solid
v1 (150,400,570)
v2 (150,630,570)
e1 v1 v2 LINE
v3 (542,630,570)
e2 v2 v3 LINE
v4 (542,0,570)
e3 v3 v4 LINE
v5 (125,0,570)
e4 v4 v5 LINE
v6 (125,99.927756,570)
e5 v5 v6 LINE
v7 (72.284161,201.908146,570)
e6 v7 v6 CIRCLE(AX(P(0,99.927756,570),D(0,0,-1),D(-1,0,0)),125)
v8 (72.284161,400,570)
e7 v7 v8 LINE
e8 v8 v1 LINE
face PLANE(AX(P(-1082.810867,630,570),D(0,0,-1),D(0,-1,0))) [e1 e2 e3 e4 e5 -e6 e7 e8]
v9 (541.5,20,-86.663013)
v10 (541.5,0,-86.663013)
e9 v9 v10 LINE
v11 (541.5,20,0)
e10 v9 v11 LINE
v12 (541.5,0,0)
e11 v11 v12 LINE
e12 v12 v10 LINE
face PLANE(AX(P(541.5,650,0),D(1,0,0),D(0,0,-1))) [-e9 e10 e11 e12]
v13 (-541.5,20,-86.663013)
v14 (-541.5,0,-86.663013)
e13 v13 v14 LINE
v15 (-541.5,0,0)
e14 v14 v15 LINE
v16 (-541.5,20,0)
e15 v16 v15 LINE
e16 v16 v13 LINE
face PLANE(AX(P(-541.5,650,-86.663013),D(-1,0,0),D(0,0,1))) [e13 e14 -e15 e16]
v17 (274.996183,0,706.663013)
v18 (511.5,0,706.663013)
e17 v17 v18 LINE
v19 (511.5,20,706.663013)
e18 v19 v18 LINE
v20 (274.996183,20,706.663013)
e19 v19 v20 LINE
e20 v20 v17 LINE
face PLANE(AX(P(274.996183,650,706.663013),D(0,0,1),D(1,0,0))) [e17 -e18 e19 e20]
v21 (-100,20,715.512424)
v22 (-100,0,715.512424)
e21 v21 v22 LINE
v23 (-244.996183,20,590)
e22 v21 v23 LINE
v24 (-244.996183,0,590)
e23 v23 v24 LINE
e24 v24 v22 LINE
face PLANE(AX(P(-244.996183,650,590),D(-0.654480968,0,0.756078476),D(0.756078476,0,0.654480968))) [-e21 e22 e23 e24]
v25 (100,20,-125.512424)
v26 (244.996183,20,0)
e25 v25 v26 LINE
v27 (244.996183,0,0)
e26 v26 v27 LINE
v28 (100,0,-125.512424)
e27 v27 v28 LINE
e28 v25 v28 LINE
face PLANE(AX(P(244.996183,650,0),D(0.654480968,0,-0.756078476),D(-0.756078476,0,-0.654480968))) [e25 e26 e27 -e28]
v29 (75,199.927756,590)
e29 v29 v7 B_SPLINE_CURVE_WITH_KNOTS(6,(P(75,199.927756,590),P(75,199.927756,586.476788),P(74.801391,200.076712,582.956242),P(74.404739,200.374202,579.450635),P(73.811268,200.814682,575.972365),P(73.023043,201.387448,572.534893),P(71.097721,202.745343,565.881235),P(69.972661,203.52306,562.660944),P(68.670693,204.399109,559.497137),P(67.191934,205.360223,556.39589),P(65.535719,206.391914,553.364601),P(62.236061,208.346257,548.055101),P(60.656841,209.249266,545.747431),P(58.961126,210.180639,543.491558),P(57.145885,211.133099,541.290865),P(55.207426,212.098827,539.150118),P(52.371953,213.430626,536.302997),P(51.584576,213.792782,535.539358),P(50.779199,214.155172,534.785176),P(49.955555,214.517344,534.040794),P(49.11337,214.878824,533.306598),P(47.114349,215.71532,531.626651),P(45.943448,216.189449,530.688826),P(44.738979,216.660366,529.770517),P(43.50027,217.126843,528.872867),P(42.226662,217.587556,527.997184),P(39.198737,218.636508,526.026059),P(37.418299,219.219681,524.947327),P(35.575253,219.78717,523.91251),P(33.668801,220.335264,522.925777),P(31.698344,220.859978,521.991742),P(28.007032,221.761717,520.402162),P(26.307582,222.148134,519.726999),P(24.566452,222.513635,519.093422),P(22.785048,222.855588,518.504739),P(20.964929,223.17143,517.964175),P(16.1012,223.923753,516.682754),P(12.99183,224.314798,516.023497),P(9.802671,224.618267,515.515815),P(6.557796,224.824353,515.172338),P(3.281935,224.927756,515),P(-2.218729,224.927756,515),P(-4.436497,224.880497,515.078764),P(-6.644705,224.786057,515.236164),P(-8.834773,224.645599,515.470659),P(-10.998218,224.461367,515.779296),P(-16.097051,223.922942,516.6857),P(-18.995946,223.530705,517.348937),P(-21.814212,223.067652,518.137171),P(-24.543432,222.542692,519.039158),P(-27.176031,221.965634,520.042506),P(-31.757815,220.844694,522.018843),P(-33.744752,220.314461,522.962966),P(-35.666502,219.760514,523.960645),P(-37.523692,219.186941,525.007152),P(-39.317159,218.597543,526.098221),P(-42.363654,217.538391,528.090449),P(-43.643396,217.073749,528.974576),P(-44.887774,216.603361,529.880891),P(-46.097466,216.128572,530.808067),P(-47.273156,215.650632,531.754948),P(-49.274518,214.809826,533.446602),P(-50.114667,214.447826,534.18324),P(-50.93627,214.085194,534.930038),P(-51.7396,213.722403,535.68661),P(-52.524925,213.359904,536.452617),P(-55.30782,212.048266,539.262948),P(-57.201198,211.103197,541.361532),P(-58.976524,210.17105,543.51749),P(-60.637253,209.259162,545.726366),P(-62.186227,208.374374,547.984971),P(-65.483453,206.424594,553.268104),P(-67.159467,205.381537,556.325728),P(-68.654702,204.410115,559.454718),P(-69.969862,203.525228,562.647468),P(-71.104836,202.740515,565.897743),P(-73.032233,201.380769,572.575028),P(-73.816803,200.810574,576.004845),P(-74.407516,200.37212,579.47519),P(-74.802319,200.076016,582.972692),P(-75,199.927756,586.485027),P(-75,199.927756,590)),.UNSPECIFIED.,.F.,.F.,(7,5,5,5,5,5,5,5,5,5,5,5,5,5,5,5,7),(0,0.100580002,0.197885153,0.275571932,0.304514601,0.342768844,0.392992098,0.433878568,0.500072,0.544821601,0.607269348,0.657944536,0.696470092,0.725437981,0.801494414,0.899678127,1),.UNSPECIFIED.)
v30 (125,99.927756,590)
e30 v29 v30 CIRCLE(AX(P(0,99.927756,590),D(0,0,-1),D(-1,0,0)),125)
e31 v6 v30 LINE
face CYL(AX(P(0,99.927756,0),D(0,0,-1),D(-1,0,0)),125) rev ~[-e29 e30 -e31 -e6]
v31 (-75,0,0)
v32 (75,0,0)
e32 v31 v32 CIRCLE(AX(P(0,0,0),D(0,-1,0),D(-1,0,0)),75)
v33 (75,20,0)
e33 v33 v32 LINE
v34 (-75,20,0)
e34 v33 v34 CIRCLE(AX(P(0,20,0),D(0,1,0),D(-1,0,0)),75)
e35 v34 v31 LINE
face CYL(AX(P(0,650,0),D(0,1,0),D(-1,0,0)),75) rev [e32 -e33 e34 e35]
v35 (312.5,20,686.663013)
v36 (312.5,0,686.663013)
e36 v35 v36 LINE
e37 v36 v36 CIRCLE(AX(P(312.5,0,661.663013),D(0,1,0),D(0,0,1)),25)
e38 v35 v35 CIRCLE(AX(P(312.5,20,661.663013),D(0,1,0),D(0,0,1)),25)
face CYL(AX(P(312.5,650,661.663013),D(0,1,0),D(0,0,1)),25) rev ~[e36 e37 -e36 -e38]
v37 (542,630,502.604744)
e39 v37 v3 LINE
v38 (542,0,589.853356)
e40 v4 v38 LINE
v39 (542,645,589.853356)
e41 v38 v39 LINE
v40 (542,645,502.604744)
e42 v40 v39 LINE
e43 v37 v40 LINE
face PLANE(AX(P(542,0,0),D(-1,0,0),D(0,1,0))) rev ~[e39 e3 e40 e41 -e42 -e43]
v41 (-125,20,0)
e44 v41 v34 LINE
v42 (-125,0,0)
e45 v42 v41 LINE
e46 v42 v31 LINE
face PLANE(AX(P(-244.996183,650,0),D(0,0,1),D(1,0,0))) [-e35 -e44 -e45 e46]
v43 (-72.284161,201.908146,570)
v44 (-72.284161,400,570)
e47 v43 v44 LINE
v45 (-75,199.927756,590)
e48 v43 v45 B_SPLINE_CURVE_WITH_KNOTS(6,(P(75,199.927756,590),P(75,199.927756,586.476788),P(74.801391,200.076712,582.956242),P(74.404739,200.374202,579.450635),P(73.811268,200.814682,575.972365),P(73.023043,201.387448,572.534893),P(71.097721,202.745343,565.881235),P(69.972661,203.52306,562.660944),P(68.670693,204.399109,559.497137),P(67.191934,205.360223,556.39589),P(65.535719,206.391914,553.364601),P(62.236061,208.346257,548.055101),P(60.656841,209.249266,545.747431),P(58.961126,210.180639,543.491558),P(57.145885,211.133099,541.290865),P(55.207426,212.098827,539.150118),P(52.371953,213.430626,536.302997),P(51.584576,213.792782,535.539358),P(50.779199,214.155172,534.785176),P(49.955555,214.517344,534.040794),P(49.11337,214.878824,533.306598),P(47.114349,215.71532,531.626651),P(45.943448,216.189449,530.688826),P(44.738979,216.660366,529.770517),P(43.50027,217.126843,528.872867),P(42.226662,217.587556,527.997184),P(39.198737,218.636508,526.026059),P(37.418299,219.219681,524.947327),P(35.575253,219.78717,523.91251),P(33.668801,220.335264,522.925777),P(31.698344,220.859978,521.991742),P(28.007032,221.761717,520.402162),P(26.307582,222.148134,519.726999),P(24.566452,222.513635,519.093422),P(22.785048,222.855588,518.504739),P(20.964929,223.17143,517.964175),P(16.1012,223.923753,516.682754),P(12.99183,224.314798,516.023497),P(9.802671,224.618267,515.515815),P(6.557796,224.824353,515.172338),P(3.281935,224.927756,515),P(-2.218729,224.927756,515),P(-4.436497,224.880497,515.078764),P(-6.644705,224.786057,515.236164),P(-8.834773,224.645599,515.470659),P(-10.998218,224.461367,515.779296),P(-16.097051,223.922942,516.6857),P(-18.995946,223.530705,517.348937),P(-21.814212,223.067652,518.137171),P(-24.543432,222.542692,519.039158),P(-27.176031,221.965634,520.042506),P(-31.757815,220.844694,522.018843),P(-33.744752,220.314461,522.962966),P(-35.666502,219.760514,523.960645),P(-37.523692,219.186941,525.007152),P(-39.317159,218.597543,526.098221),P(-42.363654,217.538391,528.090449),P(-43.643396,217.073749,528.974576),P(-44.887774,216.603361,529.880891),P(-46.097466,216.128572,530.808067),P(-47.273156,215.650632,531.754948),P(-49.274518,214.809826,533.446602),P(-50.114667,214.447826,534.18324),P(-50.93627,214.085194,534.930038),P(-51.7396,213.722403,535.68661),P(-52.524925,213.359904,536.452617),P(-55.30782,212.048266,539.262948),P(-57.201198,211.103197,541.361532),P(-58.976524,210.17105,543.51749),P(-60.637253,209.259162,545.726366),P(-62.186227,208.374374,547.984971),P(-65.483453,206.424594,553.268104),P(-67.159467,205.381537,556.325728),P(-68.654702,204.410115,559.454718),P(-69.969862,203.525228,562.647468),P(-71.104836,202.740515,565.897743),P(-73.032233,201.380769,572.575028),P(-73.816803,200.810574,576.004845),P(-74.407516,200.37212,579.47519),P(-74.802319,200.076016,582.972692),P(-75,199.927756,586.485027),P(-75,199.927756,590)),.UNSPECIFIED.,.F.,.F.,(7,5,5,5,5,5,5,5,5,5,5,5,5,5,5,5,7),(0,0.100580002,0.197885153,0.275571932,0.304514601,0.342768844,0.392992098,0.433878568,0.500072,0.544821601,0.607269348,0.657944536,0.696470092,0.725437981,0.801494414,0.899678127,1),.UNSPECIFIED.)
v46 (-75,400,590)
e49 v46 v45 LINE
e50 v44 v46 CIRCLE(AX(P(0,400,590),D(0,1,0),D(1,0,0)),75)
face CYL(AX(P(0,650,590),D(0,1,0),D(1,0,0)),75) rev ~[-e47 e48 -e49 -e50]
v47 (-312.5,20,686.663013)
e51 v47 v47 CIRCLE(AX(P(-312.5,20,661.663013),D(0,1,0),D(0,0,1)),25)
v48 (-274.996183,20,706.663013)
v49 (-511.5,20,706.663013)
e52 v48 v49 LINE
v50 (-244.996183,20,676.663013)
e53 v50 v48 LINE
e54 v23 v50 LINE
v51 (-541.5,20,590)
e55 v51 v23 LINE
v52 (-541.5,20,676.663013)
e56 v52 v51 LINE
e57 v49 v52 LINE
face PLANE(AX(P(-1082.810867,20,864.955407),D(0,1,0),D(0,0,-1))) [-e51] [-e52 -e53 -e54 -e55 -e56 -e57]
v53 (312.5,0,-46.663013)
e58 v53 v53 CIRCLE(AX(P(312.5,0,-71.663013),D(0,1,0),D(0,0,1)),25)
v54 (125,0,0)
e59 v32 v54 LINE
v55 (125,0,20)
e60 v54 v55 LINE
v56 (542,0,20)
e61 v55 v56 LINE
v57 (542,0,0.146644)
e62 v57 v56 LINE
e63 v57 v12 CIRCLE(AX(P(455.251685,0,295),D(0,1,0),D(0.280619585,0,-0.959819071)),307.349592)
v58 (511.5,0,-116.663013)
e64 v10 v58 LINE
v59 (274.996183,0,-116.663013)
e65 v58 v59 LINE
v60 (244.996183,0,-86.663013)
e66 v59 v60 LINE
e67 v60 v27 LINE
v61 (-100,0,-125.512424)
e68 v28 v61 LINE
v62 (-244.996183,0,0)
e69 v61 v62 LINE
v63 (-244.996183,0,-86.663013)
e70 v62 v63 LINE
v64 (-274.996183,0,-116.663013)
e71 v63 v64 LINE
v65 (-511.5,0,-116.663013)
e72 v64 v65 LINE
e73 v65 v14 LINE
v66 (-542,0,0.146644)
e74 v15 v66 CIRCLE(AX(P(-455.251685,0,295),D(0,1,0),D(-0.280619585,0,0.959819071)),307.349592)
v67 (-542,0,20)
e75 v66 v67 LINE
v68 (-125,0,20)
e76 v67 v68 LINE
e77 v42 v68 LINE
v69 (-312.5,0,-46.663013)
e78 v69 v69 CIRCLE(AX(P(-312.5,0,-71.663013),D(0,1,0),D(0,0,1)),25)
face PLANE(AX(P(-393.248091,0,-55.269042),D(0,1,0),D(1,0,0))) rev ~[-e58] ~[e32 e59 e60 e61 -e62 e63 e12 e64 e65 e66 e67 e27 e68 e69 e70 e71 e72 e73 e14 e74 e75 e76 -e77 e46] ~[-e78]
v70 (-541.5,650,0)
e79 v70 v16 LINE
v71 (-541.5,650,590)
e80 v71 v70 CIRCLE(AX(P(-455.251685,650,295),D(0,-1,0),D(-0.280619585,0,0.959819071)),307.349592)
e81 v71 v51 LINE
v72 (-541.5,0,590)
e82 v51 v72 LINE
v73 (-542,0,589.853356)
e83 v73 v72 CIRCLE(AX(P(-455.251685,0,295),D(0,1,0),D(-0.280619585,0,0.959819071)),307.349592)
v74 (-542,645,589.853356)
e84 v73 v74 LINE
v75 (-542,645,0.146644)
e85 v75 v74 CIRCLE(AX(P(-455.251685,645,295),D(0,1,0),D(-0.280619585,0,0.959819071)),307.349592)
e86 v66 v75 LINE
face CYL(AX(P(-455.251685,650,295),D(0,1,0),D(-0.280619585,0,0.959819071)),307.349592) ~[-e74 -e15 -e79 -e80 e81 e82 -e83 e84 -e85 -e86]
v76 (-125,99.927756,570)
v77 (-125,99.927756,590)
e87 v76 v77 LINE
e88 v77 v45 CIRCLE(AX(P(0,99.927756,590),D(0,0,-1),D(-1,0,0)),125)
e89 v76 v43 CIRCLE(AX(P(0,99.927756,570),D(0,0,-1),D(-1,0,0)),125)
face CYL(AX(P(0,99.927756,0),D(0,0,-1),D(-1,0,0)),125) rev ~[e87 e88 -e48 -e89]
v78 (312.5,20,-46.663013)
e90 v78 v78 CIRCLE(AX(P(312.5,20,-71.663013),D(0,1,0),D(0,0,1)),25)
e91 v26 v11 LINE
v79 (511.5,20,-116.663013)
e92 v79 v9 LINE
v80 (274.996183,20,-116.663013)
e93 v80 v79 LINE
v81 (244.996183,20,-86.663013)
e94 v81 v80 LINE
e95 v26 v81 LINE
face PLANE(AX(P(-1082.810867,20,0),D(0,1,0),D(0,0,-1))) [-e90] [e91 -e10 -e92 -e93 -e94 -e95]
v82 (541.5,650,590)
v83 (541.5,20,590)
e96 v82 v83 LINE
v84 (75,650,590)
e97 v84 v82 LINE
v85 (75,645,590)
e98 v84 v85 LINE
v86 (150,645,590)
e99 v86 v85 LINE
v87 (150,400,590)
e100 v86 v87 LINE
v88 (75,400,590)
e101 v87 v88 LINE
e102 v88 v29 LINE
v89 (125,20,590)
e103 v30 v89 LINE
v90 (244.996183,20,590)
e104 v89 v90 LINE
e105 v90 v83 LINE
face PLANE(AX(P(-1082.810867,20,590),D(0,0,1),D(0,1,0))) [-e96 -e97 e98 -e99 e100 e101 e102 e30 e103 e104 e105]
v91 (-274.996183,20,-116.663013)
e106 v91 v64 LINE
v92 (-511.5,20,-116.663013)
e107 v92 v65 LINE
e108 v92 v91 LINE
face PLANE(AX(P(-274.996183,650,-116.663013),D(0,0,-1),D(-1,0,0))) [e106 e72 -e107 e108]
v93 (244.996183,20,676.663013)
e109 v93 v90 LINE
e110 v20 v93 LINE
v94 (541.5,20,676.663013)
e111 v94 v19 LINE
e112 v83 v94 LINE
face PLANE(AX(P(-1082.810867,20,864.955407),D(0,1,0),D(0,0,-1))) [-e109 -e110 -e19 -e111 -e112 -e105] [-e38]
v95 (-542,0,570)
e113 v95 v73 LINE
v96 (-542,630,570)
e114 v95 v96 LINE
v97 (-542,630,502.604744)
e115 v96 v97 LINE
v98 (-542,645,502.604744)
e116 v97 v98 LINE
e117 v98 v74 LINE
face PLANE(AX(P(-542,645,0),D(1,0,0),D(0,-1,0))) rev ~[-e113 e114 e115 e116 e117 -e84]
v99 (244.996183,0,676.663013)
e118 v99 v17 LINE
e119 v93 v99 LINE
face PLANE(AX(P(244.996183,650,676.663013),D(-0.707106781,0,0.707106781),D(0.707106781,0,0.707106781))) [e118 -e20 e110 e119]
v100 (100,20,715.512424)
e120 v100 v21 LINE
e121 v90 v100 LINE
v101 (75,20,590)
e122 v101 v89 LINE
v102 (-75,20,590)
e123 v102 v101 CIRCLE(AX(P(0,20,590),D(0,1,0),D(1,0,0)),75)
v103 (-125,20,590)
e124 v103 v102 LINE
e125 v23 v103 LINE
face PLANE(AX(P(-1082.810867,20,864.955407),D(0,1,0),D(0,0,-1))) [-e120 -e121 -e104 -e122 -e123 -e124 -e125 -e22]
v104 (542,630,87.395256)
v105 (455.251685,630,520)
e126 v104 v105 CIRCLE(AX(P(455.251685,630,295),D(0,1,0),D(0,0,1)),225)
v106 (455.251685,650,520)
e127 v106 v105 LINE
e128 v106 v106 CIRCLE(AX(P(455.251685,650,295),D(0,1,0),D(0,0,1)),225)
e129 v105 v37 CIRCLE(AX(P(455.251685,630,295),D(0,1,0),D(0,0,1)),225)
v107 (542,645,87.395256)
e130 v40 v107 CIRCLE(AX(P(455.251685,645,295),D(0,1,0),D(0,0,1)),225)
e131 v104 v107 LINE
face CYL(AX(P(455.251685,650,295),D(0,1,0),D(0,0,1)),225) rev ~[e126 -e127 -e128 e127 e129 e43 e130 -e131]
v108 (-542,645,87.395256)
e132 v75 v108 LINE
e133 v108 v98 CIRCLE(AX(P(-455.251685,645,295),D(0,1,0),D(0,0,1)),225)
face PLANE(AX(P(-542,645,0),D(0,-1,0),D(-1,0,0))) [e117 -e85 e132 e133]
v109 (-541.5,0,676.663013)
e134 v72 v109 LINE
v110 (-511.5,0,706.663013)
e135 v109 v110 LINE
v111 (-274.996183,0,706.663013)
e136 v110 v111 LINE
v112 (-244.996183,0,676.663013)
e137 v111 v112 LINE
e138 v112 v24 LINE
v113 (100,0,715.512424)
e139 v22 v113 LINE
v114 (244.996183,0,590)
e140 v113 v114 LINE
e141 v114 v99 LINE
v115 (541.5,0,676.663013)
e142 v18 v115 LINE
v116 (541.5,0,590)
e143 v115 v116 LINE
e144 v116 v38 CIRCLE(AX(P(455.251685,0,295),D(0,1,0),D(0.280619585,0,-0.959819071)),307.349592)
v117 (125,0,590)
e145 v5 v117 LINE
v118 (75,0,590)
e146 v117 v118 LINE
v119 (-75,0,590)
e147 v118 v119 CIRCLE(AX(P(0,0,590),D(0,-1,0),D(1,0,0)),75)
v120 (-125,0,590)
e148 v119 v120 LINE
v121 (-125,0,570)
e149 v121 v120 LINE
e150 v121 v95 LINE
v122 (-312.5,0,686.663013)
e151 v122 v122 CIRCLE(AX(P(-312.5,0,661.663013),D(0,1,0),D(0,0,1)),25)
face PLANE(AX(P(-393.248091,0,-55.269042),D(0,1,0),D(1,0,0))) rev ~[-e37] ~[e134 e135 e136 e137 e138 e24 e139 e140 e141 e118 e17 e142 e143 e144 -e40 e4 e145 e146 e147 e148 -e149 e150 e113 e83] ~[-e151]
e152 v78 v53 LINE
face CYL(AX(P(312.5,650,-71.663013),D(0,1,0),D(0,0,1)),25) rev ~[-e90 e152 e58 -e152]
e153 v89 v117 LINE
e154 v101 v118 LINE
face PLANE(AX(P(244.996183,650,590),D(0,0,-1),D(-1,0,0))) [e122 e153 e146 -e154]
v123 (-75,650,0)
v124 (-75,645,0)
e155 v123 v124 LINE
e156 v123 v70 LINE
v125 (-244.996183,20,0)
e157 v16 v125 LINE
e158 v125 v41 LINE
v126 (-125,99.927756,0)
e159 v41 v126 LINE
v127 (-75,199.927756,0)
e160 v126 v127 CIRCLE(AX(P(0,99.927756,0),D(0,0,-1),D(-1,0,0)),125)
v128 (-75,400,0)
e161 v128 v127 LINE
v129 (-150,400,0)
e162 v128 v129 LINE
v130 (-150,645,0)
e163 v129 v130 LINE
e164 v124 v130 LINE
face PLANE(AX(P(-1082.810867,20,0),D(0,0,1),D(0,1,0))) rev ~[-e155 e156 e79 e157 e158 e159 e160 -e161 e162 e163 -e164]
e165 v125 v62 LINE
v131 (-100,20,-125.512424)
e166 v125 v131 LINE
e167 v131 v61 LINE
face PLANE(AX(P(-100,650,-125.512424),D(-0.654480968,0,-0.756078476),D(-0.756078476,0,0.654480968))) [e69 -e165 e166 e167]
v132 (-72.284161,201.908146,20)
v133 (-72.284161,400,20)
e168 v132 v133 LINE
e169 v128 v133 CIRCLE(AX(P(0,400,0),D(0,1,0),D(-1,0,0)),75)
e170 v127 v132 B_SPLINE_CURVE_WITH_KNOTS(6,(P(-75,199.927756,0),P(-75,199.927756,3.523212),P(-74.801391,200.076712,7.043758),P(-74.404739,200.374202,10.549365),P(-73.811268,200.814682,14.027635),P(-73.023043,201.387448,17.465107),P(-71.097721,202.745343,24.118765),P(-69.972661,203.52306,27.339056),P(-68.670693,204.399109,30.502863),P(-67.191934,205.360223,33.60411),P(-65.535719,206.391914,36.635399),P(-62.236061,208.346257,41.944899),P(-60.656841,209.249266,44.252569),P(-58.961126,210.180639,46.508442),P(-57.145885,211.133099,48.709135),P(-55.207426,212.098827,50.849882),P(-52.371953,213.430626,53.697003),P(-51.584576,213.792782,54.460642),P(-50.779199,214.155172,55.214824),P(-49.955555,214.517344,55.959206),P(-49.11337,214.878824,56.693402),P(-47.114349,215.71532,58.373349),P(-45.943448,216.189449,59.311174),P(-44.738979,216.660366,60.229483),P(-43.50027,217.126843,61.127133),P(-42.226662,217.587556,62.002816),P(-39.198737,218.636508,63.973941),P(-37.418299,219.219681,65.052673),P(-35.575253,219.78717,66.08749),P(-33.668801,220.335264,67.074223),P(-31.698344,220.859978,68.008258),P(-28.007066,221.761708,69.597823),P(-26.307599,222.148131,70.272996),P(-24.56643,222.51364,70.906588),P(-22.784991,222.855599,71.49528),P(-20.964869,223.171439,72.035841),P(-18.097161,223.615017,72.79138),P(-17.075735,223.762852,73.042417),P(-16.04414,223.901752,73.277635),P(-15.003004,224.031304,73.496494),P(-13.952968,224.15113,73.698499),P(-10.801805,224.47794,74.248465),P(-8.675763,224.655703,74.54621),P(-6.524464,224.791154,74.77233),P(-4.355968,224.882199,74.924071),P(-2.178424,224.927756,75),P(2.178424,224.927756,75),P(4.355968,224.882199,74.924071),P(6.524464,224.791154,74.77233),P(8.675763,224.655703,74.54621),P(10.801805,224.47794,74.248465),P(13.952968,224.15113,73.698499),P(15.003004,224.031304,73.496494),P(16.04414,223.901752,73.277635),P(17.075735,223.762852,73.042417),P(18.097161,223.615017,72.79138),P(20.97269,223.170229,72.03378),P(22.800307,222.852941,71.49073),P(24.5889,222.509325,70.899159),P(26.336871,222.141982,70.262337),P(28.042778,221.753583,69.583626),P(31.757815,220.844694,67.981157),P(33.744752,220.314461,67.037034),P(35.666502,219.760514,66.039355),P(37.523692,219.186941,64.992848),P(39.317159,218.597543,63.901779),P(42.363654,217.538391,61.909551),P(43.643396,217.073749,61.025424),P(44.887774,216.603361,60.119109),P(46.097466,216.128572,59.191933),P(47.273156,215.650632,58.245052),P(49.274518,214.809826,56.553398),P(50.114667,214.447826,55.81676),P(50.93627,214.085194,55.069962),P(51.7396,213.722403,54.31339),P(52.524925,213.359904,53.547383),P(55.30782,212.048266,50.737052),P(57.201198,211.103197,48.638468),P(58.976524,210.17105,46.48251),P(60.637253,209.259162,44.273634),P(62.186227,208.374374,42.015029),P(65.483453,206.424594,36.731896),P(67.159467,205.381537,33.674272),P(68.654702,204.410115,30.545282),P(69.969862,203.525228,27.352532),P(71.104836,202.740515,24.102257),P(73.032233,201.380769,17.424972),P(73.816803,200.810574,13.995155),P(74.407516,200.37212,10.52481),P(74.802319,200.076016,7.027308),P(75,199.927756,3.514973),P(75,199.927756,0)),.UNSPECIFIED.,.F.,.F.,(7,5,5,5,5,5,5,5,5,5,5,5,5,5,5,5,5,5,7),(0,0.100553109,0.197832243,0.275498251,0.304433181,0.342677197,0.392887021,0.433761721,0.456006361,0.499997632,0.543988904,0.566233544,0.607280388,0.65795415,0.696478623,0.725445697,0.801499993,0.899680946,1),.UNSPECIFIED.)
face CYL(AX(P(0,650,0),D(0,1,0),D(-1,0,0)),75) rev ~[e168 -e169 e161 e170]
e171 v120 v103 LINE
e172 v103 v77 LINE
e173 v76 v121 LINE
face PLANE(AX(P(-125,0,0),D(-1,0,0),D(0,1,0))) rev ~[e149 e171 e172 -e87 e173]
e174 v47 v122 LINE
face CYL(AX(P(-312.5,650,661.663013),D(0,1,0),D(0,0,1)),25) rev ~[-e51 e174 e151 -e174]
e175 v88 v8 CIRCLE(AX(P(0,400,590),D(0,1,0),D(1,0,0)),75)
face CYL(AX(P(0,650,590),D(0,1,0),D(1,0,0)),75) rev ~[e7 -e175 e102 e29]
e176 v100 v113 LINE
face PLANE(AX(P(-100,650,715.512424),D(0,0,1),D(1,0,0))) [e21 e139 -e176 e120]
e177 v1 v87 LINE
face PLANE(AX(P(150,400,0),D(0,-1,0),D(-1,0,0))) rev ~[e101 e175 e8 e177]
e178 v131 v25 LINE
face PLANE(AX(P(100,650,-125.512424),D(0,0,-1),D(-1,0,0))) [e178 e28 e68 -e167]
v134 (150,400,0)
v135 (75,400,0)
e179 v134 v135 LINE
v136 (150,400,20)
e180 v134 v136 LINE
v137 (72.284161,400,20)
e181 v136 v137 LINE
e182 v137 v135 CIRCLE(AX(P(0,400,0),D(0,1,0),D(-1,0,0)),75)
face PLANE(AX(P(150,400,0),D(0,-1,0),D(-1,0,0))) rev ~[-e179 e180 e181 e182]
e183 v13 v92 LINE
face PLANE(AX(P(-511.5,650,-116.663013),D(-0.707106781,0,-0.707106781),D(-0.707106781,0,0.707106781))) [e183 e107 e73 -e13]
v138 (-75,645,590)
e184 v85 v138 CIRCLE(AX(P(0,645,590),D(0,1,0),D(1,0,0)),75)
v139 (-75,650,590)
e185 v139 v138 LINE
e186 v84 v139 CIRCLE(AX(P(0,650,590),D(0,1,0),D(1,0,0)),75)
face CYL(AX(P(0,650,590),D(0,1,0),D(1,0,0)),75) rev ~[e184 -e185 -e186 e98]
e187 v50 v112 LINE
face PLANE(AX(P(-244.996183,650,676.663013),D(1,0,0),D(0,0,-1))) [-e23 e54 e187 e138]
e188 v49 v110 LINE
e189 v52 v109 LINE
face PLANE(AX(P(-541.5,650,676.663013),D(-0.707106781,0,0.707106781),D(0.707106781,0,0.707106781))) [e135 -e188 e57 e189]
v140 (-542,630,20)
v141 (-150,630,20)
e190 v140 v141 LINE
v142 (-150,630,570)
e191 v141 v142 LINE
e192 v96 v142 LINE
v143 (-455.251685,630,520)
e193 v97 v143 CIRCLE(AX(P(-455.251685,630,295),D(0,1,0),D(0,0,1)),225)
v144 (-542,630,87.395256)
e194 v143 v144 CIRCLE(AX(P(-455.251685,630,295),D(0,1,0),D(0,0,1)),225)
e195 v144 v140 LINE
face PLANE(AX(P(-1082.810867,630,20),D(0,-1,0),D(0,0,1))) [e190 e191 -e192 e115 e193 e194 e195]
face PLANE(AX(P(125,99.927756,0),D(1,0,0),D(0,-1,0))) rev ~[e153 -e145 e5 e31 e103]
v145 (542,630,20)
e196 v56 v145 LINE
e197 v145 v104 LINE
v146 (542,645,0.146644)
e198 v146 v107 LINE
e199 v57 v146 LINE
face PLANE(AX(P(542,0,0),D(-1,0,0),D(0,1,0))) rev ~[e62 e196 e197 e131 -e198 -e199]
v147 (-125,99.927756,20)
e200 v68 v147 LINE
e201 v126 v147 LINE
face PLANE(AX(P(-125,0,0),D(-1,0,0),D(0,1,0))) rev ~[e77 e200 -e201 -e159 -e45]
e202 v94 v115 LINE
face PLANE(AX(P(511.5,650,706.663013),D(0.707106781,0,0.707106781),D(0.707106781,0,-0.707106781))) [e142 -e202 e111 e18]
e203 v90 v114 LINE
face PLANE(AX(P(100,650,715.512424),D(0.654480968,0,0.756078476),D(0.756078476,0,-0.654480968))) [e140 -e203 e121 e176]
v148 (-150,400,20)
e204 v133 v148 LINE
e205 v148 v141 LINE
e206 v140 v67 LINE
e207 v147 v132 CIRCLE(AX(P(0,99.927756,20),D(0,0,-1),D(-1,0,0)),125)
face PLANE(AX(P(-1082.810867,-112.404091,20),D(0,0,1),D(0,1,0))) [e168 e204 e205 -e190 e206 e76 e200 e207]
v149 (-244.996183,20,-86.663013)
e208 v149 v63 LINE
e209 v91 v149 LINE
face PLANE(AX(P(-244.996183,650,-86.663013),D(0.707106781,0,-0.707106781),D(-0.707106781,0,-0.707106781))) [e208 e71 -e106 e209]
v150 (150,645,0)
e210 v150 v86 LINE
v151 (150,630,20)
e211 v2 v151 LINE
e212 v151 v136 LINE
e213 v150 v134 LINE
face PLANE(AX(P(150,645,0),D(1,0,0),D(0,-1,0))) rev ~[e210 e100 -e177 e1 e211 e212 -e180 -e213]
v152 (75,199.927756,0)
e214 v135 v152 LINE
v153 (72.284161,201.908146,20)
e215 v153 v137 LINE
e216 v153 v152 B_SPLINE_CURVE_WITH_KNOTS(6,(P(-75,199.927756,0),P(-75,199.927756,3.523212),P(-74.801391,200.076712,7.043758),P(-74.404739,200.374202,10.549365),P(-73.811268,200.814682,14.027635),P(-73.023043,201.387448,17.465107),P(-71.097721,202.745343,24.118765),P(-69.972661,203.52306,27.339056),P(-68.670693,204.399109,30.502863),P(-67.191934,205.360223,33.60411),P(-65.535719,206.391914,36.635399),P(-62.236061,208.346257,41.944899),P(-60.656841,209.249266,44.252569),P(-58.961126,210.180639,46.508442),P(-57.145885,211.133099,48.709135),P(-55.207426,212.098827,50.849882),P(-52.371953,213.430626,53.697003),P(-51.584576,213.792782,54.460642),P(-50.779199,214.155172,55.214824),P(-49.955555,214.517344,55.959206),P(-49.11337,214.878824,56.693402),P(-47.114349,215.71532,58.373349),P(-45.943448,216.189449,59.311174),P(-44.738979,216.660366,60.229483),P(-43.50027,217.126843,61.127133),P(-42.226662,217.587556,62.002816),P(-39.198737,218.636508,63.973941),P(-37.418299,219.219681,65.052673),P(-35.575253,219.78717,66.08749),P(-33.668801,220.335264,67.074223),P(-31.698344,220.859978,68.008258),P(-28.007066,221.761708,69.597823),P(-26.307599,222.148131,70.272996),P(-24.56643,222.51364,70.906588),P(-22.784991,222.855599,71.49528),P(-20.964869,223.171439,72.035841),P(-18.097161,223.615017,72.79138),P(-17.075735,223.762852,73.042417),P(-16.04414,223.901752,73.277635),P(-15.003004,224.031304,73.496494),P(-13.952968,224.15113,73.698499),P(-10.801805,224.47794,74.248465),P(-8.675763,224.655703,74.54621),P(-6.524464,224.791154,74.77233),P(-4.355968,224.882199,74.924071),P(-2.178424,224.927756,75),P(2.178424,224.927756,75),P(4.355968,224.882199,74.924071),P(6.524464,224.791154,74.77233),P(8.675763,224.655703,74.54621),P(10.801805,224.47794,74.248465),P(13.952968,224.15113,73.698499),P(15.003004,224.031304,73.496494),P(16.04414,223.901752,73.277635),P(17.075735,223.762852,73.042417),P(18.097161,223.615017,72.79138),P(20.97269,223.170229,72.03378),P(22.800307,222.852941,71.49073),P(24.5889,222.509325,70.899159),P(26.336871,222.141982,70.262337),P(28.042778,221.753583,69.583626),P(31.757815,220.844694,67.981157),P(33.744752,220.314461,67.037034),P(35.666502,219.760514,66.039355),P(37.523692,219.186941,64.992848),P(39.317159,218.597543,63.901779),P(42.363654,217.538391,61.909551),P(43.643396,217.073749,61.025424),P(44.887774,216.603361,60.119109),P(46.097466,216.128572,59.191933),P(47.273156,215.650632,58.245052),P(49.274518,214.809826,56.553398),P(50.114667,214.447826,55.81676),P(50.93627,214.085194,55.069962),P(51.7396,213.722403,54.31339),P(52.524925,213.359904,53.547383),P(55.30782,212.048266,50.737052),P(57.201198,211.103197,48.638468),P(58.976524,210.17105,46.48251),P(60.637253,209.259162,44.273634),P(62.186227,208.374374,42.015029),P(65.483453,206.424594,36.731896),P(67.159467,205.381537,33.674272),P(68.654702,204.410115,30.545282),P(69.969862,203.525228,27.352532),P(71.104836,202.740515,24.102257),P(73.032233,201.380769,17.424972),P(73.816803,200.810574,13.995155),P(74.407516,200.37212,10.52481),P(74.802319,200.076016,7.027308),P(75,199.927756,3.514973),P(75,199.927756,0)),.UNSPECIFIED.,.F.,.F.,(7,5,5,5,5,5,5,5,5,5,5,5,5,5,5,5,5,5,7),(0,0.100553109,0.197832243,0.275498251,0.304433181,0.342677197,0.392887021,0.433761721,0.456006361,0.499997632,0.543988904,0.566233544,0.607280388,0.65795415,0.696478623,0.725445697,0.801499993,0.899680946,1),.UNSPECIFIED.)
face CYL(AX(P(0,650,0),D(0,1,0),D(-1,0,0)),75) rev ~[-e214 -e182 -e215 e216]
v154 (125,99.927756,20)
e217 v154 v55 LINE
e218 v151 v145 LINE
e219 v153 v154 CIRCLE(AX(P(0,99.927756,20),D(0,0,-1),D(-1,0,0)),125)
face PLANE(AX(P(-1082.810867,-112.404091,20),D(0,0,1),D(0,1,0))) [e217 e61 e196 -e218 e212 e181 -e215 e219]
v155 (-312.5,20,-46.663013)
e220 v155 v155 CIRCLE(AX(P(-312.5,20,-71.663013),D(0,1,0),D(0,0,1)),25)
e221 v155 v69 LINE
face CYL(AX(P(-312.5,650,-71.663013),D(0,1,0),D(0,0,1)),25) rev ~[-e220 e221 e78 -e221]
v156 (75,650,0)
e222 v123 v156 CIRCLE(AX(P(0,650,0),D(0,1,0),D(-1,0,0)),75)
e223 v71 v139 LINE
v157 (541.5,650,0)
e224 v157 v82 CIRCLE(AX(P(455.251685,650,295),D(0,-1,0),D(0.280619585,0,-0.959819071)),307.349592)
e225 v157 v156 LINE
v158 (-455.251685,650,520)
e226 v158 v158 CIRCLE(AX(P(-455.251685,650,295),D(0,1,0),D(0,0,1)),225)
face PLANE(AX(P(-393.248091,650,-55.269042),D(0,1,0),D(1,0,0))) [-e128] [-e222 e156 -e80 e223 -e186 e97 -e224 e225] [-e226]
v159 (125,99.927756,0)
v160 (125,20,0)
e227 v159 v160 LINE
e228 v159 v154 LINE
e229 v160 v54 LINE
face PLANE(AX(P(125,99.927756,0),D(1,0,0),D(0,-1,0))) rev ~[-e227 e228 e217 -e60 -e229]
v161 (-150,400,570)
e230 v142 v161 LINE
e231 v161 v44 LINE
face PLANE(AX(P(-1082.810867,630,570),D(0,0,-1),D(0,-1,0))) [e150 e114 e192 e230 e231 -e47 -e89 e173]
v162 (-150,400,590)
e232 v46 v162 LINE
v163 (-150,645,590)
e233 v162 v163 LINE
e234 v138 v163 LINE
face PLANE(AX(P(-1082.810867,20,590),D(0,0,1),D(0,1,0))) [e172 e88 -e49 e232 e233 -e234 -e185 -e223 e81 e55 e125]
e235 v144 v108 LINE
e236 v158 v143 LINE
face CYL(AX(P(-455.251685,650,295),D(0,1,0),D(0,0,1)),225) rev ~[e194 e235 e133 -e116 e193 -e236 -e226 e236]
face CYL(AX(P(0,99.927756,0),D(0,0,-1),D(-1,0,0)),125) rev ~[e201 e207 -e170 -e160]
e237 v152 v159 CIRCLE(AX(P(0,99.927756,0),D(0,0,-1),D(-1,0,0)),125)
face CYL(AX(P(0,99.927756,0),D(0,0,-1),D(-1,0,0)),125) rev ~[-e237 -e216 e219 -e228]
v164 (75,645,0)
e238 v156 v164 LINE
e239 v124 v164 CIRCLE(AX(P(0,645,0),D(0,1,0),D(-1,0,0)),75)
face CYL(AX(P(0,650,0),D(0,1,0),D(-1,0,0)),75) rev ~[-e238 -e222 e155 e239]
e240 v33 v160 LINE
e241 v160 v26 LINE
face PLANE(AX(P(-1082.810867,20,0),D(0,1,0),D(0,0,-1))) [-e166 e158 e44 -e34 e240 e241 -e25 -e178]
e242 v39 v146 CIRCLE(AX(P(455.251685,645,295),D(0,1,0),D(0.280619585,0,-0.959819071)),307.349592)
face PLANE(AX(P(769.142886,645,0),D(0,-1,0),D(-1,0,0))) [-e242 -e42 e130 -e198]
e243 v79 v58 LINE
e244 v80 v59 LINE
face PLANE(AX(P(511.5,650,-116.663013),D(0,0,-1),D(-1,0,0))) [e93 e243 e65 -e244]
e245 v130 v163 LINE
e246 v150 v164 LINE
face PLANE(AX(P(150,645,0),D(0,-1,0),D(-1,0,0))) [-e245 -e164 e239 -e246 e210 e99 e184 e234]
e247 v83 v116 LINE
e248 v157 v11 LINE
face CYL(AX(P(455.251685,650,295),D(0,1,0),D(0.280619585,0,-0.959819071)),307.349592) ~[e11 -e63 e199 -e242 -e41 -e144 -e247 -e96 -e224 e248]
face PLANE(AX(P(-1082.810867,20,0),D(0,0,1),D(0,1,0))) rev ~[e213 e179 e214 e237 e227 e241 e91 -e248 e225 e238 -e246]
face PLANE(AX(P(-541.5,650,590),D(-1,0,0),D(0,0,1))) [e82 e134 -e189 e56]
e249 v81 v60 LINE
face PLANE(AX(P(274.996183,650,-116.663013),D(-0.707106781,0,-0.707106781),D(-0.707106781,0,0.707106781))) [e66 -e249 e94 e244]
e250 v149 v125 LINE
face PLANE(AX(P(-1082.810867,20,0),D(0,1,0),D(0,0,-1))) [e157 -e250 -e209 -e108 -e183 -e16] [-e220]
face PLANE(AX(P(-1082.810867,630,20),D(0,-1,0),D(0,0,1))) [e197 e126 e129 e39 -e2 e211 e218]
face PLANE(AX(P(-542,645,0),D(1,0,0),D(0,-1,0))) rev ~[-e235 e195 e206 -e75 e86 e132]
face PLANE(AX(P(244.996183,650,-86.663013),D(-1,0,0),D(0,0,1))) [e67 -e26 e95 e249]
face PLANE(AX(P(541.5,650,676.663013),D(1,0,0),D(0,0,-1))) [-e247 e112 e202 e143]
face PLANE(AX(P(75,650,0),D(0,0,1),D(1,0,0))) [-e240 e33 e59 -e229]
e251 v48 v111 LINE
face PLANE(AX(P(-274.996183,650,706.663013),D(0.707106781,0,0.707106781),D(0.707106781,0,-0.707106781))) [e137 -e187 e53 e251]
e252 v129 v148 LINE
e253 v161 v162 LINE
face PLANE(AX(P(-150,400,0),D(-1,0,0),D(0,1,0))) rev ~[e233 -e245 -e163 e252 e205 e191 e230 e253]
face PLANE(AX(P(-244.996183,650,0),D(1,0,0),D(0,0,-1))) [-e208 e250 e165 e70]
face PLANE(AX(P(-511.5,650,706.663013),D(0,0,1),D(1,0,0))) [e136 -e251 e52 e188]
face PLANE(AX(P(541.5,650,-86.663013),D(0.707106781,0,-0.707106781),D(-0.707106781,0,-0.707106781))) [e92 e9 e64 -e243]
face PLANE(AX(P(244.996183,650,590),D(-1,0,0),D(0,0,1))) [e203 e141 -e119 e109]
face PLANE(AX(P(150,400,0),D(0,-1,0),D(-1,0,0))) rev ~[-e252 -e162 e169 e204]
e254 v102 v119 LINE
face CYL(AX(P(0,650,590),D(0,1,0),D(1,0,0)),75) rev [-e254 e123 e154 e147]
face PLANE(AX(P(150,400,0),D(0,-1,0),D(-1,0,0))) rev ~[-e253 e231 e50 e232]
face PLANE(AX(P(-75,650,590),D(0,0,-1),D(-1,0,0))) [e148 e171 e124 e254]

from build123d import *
from build123d.topology import SkipClean

# Parameters (mm, degrees)
SKETCH1_W               = 300
SKETCH1_H               = 245
BOSS_EXTRUDE1_DEPTH     = 590
SKETCH2_R               = 25
BOSS_EXTRUDE2_DEPTH     = 650
SKETCH2_4_R             = 225
CUT_EXTRUDE2_DEPTH      = 1236.329432749
CUT_EXTRUDE4_DEPTH      = 1624.31086661
CUT_EXTRUDE4_DEPTH_BACK = 1624.31086661
SKETCH3_W               = 274.95540651
SKETCH3_H               = 630
SKETCH3_W_2             = 550
SKETCH3_H_2             = 742.404091098
SKETCH3_W_3             = 176.90498613


with BuildPart() as part:
    # Sketch1 → Boss-Extrude1 (new body)
    with BuildSketch(Plane.XY):
        with BuildLine():
            Line((-542, 645), (-542, 0))
            Line((-542, 0), (-125, 0))
            Line((-125, 0), (-125, 99.927755898))
            ThreePointArc((-125, 99.927755898), (0, 224.927755898), (125, 99.927755898))
            Line((125, 99.927755898), (125, 0))
            Line((125, 0), (542, 0))
            Line((542, 0), (542, 645))
            Line((542, 645), (769.142885948, 645))
            Line((769.142885948, 645), (769.142885948, 650))
            Line((769.142885948, 650), (-769.142885948, 650))
            Line((-769.142885948, 650), (-769.142885948, 645))
            Line((-769.142885948, 645), (-542, 645))
        make_face()
        with Locations((0, 522.5)):
            Rectangle(SKETCH1_W, SKETCH1_H, mode=Mode.SUBTRACT)
    extrude(amount=BOSS_EXTRUDE1_DEPTH)

    # Sketch2 → Boss-Extrude2 (add)
    # profile 1 of 6: a face of its own
    with BuildSketch(Plane(origin=(0, 650, 0), x_dir=(1, 0, 0), z_dir=(0, 1, 0))):
        Polygon((-541.5, 86.663012773), (-541.5, 0), (-244.996182612, 0), (-244.996182612, 86.663012773), (-274.996182612, 116.663012773), (-511.5, 116.663012773), align=None)
        with Locations((-312.5, 71.663012773)):
            Circle(SKETCH2_R, mode=Mode.SUBTRACT)
    # profile 2 of 6: a face of its own
    with BuildSketch(Plane(origin=(0, 650, 0), x_dir=(1, 0, 0), z_dir=(0, 1, 0))):
        with BuildLine():
            Line((-100, 125.512423659), (-244.996182612, 0))
            Line((-244.996182612, 0), (-75, 0))
            ThreePointArc((-75, 0), (0, 75), (75, 0))
            Line((75, 0), (244.996182612, 0))
            Line((244.996182612, 0), (100, 125.512423659))
            Line((100, 125.512423659), (-100, 125.512423659))
        make_face()
    # profile 3 of 6: a face of its own
    with BuildSketch(Plane(origin=(0, 650, 0), x_dir=(1, 0, 0), z_dir=(0, 1, 0))):
        Polygon((-244.996182612, -590), (-541.5, -590), (-541.5, -676.663012773), (-511.5, -706.663012773), (-274.996182612, -706.663012773), (-244.996182612, -676.663012773), align=None)
        with Locations((-312.5, -661.663012773)):
            Circle(SKETCH2_R, mode=Mode.SUBTRACT)
    # profile 4 of 6: a face of its own
    with BuildSketch(Plane(origin=(0, 650, 0), x_dir=(1, 0, 0), z_dir=(0, 1, 0))):
        with BuildLine():
            Line((-75, -590), (-244.996182612, -590))
            Line((-244.996182612, -590), (-100, -715.512423659))
            Line((-100, -715.512423659), (100, -715.512423659))
            Line((100, -715.512423659), (244.996182612, -590))
            Line((244.996182612, -590), (75, -590))
            ThreePointArc((75, -590), (0, -665), (-75, -590))
        make_face()
    # profile 5 of 6: a face of its own
    with BuildSketch(Plane(origin=(0, 650, 0), x_dir=(1, 0, 0), z_dir=(0, 1, 0))):
        Polygon((244.996182612, 86.663012773), (244.996182612, 0), (541.5, 0), (541.5, 86.663012773), (511.5, 116.663012773), (274.996182612, 116.663012773), align=None)
        with Locations((312.5, 71.663012773)):
            Circle(SKETCH2_R, mode=Mode.SUBTRACT)
    # profile 6 of 6: a face of its own
    with BuildSketch(Plane(origin=(0, 650, 0), x_dir=(1, 0, 0), z_dir=(0, 1, 0))):
        Polygon((541.5, -590), (244.996182612, -590), (244.996182612, -676.663012773), (274.996182612, -706.663012773), (511.5, -706.663012773), (541.5, -676.663012773), align=None)
        with Locations((312.5, -661.663012773)):
            Circle(SKETCH2_R, mode=Mode.SUBTRACT)
    extrude(amount=-BOSS_EXTRUDE2_DEPTH)

    # Sketch2<4> → Cut-Extrude2 (cut, through all)
    with SkipClean():  # the faces are left unmerged after this step: merging them gives an invalid solid
        with BuildSketch(Plane(origin=(0, 650, 0), x_dir=(1, 0, 0), z_dir=(0, 1, 0))):
            with BuildLine():
                ThreePointArc((-541.5, -590), (-762.601277219, -295), (-541.5, 0))
                Line((-541.5, 0), (-769.142885948, 0))
                Line((-769.142885948, 0), (-769.142885948, -590))
                Line((-769.142885948, -590), (-541.5, -590))
            make_face()
            with BuildLine():
                Line((75, 0), (-75, 0))
                ThreePointArc((-75, 0), (0, -75), (75, 0))
            make_face()
            with BuildLine():
                ThreePointArc((75, -590), (0, -515), (-75, -590))
                Line((-75, -590), (75, -590))
            make_face()
            with BuildLine():
                Line((769.142885948, 0), (541.5, 0))
                ThreePointArc((541.5, 0), (762.601277219, -295), (541.5, -590))
                Line((541.5, -590), (769.142885948, -590))
                Line((769.142885948, -590), (769.142885948, 0))
            make_face()
            with Locations((-455.251684993, -295)):
                Circle(SKETCH2_4_R)
            with Locations((455.251684993, -295)):
                Circle(SKETCH2_4_R)
        extrude(amount=-CUT_EXTRUDE2_DEPTH, mode=Mode.SUBTRACT)

    # Sketch3 → Cut-Extrude4 (cut, two sides: drawn at the far end of the back side and taken through both)
    with BuildSketch(Plane(origin=(541.5, 0, 0), x_dir=(0, 0, -1), z_dir=(1, 0, 0)).offset(-CUT_EXTRUDE4_DEPTH_BACK)):
        with Locations((-727.477703255, 335)):
            Rectangle(SKETCH3_W, SKETCH3_H)
        with Locations((-295, 258.797954451)):
            Rectangle(SKETCH3_W_2, SKETCH3_H_2)
        with Locations((88.452493065, 335)):
            Rectangle(SKETCH3_W_3, SKETCH3_H)
    extrude(amount=CUT_EXTRUDE4_DEPTH + CUT_EXTRUDE4_DEPTH_BACK, mode=Mode.SUBTRACT)


solid = part.part
